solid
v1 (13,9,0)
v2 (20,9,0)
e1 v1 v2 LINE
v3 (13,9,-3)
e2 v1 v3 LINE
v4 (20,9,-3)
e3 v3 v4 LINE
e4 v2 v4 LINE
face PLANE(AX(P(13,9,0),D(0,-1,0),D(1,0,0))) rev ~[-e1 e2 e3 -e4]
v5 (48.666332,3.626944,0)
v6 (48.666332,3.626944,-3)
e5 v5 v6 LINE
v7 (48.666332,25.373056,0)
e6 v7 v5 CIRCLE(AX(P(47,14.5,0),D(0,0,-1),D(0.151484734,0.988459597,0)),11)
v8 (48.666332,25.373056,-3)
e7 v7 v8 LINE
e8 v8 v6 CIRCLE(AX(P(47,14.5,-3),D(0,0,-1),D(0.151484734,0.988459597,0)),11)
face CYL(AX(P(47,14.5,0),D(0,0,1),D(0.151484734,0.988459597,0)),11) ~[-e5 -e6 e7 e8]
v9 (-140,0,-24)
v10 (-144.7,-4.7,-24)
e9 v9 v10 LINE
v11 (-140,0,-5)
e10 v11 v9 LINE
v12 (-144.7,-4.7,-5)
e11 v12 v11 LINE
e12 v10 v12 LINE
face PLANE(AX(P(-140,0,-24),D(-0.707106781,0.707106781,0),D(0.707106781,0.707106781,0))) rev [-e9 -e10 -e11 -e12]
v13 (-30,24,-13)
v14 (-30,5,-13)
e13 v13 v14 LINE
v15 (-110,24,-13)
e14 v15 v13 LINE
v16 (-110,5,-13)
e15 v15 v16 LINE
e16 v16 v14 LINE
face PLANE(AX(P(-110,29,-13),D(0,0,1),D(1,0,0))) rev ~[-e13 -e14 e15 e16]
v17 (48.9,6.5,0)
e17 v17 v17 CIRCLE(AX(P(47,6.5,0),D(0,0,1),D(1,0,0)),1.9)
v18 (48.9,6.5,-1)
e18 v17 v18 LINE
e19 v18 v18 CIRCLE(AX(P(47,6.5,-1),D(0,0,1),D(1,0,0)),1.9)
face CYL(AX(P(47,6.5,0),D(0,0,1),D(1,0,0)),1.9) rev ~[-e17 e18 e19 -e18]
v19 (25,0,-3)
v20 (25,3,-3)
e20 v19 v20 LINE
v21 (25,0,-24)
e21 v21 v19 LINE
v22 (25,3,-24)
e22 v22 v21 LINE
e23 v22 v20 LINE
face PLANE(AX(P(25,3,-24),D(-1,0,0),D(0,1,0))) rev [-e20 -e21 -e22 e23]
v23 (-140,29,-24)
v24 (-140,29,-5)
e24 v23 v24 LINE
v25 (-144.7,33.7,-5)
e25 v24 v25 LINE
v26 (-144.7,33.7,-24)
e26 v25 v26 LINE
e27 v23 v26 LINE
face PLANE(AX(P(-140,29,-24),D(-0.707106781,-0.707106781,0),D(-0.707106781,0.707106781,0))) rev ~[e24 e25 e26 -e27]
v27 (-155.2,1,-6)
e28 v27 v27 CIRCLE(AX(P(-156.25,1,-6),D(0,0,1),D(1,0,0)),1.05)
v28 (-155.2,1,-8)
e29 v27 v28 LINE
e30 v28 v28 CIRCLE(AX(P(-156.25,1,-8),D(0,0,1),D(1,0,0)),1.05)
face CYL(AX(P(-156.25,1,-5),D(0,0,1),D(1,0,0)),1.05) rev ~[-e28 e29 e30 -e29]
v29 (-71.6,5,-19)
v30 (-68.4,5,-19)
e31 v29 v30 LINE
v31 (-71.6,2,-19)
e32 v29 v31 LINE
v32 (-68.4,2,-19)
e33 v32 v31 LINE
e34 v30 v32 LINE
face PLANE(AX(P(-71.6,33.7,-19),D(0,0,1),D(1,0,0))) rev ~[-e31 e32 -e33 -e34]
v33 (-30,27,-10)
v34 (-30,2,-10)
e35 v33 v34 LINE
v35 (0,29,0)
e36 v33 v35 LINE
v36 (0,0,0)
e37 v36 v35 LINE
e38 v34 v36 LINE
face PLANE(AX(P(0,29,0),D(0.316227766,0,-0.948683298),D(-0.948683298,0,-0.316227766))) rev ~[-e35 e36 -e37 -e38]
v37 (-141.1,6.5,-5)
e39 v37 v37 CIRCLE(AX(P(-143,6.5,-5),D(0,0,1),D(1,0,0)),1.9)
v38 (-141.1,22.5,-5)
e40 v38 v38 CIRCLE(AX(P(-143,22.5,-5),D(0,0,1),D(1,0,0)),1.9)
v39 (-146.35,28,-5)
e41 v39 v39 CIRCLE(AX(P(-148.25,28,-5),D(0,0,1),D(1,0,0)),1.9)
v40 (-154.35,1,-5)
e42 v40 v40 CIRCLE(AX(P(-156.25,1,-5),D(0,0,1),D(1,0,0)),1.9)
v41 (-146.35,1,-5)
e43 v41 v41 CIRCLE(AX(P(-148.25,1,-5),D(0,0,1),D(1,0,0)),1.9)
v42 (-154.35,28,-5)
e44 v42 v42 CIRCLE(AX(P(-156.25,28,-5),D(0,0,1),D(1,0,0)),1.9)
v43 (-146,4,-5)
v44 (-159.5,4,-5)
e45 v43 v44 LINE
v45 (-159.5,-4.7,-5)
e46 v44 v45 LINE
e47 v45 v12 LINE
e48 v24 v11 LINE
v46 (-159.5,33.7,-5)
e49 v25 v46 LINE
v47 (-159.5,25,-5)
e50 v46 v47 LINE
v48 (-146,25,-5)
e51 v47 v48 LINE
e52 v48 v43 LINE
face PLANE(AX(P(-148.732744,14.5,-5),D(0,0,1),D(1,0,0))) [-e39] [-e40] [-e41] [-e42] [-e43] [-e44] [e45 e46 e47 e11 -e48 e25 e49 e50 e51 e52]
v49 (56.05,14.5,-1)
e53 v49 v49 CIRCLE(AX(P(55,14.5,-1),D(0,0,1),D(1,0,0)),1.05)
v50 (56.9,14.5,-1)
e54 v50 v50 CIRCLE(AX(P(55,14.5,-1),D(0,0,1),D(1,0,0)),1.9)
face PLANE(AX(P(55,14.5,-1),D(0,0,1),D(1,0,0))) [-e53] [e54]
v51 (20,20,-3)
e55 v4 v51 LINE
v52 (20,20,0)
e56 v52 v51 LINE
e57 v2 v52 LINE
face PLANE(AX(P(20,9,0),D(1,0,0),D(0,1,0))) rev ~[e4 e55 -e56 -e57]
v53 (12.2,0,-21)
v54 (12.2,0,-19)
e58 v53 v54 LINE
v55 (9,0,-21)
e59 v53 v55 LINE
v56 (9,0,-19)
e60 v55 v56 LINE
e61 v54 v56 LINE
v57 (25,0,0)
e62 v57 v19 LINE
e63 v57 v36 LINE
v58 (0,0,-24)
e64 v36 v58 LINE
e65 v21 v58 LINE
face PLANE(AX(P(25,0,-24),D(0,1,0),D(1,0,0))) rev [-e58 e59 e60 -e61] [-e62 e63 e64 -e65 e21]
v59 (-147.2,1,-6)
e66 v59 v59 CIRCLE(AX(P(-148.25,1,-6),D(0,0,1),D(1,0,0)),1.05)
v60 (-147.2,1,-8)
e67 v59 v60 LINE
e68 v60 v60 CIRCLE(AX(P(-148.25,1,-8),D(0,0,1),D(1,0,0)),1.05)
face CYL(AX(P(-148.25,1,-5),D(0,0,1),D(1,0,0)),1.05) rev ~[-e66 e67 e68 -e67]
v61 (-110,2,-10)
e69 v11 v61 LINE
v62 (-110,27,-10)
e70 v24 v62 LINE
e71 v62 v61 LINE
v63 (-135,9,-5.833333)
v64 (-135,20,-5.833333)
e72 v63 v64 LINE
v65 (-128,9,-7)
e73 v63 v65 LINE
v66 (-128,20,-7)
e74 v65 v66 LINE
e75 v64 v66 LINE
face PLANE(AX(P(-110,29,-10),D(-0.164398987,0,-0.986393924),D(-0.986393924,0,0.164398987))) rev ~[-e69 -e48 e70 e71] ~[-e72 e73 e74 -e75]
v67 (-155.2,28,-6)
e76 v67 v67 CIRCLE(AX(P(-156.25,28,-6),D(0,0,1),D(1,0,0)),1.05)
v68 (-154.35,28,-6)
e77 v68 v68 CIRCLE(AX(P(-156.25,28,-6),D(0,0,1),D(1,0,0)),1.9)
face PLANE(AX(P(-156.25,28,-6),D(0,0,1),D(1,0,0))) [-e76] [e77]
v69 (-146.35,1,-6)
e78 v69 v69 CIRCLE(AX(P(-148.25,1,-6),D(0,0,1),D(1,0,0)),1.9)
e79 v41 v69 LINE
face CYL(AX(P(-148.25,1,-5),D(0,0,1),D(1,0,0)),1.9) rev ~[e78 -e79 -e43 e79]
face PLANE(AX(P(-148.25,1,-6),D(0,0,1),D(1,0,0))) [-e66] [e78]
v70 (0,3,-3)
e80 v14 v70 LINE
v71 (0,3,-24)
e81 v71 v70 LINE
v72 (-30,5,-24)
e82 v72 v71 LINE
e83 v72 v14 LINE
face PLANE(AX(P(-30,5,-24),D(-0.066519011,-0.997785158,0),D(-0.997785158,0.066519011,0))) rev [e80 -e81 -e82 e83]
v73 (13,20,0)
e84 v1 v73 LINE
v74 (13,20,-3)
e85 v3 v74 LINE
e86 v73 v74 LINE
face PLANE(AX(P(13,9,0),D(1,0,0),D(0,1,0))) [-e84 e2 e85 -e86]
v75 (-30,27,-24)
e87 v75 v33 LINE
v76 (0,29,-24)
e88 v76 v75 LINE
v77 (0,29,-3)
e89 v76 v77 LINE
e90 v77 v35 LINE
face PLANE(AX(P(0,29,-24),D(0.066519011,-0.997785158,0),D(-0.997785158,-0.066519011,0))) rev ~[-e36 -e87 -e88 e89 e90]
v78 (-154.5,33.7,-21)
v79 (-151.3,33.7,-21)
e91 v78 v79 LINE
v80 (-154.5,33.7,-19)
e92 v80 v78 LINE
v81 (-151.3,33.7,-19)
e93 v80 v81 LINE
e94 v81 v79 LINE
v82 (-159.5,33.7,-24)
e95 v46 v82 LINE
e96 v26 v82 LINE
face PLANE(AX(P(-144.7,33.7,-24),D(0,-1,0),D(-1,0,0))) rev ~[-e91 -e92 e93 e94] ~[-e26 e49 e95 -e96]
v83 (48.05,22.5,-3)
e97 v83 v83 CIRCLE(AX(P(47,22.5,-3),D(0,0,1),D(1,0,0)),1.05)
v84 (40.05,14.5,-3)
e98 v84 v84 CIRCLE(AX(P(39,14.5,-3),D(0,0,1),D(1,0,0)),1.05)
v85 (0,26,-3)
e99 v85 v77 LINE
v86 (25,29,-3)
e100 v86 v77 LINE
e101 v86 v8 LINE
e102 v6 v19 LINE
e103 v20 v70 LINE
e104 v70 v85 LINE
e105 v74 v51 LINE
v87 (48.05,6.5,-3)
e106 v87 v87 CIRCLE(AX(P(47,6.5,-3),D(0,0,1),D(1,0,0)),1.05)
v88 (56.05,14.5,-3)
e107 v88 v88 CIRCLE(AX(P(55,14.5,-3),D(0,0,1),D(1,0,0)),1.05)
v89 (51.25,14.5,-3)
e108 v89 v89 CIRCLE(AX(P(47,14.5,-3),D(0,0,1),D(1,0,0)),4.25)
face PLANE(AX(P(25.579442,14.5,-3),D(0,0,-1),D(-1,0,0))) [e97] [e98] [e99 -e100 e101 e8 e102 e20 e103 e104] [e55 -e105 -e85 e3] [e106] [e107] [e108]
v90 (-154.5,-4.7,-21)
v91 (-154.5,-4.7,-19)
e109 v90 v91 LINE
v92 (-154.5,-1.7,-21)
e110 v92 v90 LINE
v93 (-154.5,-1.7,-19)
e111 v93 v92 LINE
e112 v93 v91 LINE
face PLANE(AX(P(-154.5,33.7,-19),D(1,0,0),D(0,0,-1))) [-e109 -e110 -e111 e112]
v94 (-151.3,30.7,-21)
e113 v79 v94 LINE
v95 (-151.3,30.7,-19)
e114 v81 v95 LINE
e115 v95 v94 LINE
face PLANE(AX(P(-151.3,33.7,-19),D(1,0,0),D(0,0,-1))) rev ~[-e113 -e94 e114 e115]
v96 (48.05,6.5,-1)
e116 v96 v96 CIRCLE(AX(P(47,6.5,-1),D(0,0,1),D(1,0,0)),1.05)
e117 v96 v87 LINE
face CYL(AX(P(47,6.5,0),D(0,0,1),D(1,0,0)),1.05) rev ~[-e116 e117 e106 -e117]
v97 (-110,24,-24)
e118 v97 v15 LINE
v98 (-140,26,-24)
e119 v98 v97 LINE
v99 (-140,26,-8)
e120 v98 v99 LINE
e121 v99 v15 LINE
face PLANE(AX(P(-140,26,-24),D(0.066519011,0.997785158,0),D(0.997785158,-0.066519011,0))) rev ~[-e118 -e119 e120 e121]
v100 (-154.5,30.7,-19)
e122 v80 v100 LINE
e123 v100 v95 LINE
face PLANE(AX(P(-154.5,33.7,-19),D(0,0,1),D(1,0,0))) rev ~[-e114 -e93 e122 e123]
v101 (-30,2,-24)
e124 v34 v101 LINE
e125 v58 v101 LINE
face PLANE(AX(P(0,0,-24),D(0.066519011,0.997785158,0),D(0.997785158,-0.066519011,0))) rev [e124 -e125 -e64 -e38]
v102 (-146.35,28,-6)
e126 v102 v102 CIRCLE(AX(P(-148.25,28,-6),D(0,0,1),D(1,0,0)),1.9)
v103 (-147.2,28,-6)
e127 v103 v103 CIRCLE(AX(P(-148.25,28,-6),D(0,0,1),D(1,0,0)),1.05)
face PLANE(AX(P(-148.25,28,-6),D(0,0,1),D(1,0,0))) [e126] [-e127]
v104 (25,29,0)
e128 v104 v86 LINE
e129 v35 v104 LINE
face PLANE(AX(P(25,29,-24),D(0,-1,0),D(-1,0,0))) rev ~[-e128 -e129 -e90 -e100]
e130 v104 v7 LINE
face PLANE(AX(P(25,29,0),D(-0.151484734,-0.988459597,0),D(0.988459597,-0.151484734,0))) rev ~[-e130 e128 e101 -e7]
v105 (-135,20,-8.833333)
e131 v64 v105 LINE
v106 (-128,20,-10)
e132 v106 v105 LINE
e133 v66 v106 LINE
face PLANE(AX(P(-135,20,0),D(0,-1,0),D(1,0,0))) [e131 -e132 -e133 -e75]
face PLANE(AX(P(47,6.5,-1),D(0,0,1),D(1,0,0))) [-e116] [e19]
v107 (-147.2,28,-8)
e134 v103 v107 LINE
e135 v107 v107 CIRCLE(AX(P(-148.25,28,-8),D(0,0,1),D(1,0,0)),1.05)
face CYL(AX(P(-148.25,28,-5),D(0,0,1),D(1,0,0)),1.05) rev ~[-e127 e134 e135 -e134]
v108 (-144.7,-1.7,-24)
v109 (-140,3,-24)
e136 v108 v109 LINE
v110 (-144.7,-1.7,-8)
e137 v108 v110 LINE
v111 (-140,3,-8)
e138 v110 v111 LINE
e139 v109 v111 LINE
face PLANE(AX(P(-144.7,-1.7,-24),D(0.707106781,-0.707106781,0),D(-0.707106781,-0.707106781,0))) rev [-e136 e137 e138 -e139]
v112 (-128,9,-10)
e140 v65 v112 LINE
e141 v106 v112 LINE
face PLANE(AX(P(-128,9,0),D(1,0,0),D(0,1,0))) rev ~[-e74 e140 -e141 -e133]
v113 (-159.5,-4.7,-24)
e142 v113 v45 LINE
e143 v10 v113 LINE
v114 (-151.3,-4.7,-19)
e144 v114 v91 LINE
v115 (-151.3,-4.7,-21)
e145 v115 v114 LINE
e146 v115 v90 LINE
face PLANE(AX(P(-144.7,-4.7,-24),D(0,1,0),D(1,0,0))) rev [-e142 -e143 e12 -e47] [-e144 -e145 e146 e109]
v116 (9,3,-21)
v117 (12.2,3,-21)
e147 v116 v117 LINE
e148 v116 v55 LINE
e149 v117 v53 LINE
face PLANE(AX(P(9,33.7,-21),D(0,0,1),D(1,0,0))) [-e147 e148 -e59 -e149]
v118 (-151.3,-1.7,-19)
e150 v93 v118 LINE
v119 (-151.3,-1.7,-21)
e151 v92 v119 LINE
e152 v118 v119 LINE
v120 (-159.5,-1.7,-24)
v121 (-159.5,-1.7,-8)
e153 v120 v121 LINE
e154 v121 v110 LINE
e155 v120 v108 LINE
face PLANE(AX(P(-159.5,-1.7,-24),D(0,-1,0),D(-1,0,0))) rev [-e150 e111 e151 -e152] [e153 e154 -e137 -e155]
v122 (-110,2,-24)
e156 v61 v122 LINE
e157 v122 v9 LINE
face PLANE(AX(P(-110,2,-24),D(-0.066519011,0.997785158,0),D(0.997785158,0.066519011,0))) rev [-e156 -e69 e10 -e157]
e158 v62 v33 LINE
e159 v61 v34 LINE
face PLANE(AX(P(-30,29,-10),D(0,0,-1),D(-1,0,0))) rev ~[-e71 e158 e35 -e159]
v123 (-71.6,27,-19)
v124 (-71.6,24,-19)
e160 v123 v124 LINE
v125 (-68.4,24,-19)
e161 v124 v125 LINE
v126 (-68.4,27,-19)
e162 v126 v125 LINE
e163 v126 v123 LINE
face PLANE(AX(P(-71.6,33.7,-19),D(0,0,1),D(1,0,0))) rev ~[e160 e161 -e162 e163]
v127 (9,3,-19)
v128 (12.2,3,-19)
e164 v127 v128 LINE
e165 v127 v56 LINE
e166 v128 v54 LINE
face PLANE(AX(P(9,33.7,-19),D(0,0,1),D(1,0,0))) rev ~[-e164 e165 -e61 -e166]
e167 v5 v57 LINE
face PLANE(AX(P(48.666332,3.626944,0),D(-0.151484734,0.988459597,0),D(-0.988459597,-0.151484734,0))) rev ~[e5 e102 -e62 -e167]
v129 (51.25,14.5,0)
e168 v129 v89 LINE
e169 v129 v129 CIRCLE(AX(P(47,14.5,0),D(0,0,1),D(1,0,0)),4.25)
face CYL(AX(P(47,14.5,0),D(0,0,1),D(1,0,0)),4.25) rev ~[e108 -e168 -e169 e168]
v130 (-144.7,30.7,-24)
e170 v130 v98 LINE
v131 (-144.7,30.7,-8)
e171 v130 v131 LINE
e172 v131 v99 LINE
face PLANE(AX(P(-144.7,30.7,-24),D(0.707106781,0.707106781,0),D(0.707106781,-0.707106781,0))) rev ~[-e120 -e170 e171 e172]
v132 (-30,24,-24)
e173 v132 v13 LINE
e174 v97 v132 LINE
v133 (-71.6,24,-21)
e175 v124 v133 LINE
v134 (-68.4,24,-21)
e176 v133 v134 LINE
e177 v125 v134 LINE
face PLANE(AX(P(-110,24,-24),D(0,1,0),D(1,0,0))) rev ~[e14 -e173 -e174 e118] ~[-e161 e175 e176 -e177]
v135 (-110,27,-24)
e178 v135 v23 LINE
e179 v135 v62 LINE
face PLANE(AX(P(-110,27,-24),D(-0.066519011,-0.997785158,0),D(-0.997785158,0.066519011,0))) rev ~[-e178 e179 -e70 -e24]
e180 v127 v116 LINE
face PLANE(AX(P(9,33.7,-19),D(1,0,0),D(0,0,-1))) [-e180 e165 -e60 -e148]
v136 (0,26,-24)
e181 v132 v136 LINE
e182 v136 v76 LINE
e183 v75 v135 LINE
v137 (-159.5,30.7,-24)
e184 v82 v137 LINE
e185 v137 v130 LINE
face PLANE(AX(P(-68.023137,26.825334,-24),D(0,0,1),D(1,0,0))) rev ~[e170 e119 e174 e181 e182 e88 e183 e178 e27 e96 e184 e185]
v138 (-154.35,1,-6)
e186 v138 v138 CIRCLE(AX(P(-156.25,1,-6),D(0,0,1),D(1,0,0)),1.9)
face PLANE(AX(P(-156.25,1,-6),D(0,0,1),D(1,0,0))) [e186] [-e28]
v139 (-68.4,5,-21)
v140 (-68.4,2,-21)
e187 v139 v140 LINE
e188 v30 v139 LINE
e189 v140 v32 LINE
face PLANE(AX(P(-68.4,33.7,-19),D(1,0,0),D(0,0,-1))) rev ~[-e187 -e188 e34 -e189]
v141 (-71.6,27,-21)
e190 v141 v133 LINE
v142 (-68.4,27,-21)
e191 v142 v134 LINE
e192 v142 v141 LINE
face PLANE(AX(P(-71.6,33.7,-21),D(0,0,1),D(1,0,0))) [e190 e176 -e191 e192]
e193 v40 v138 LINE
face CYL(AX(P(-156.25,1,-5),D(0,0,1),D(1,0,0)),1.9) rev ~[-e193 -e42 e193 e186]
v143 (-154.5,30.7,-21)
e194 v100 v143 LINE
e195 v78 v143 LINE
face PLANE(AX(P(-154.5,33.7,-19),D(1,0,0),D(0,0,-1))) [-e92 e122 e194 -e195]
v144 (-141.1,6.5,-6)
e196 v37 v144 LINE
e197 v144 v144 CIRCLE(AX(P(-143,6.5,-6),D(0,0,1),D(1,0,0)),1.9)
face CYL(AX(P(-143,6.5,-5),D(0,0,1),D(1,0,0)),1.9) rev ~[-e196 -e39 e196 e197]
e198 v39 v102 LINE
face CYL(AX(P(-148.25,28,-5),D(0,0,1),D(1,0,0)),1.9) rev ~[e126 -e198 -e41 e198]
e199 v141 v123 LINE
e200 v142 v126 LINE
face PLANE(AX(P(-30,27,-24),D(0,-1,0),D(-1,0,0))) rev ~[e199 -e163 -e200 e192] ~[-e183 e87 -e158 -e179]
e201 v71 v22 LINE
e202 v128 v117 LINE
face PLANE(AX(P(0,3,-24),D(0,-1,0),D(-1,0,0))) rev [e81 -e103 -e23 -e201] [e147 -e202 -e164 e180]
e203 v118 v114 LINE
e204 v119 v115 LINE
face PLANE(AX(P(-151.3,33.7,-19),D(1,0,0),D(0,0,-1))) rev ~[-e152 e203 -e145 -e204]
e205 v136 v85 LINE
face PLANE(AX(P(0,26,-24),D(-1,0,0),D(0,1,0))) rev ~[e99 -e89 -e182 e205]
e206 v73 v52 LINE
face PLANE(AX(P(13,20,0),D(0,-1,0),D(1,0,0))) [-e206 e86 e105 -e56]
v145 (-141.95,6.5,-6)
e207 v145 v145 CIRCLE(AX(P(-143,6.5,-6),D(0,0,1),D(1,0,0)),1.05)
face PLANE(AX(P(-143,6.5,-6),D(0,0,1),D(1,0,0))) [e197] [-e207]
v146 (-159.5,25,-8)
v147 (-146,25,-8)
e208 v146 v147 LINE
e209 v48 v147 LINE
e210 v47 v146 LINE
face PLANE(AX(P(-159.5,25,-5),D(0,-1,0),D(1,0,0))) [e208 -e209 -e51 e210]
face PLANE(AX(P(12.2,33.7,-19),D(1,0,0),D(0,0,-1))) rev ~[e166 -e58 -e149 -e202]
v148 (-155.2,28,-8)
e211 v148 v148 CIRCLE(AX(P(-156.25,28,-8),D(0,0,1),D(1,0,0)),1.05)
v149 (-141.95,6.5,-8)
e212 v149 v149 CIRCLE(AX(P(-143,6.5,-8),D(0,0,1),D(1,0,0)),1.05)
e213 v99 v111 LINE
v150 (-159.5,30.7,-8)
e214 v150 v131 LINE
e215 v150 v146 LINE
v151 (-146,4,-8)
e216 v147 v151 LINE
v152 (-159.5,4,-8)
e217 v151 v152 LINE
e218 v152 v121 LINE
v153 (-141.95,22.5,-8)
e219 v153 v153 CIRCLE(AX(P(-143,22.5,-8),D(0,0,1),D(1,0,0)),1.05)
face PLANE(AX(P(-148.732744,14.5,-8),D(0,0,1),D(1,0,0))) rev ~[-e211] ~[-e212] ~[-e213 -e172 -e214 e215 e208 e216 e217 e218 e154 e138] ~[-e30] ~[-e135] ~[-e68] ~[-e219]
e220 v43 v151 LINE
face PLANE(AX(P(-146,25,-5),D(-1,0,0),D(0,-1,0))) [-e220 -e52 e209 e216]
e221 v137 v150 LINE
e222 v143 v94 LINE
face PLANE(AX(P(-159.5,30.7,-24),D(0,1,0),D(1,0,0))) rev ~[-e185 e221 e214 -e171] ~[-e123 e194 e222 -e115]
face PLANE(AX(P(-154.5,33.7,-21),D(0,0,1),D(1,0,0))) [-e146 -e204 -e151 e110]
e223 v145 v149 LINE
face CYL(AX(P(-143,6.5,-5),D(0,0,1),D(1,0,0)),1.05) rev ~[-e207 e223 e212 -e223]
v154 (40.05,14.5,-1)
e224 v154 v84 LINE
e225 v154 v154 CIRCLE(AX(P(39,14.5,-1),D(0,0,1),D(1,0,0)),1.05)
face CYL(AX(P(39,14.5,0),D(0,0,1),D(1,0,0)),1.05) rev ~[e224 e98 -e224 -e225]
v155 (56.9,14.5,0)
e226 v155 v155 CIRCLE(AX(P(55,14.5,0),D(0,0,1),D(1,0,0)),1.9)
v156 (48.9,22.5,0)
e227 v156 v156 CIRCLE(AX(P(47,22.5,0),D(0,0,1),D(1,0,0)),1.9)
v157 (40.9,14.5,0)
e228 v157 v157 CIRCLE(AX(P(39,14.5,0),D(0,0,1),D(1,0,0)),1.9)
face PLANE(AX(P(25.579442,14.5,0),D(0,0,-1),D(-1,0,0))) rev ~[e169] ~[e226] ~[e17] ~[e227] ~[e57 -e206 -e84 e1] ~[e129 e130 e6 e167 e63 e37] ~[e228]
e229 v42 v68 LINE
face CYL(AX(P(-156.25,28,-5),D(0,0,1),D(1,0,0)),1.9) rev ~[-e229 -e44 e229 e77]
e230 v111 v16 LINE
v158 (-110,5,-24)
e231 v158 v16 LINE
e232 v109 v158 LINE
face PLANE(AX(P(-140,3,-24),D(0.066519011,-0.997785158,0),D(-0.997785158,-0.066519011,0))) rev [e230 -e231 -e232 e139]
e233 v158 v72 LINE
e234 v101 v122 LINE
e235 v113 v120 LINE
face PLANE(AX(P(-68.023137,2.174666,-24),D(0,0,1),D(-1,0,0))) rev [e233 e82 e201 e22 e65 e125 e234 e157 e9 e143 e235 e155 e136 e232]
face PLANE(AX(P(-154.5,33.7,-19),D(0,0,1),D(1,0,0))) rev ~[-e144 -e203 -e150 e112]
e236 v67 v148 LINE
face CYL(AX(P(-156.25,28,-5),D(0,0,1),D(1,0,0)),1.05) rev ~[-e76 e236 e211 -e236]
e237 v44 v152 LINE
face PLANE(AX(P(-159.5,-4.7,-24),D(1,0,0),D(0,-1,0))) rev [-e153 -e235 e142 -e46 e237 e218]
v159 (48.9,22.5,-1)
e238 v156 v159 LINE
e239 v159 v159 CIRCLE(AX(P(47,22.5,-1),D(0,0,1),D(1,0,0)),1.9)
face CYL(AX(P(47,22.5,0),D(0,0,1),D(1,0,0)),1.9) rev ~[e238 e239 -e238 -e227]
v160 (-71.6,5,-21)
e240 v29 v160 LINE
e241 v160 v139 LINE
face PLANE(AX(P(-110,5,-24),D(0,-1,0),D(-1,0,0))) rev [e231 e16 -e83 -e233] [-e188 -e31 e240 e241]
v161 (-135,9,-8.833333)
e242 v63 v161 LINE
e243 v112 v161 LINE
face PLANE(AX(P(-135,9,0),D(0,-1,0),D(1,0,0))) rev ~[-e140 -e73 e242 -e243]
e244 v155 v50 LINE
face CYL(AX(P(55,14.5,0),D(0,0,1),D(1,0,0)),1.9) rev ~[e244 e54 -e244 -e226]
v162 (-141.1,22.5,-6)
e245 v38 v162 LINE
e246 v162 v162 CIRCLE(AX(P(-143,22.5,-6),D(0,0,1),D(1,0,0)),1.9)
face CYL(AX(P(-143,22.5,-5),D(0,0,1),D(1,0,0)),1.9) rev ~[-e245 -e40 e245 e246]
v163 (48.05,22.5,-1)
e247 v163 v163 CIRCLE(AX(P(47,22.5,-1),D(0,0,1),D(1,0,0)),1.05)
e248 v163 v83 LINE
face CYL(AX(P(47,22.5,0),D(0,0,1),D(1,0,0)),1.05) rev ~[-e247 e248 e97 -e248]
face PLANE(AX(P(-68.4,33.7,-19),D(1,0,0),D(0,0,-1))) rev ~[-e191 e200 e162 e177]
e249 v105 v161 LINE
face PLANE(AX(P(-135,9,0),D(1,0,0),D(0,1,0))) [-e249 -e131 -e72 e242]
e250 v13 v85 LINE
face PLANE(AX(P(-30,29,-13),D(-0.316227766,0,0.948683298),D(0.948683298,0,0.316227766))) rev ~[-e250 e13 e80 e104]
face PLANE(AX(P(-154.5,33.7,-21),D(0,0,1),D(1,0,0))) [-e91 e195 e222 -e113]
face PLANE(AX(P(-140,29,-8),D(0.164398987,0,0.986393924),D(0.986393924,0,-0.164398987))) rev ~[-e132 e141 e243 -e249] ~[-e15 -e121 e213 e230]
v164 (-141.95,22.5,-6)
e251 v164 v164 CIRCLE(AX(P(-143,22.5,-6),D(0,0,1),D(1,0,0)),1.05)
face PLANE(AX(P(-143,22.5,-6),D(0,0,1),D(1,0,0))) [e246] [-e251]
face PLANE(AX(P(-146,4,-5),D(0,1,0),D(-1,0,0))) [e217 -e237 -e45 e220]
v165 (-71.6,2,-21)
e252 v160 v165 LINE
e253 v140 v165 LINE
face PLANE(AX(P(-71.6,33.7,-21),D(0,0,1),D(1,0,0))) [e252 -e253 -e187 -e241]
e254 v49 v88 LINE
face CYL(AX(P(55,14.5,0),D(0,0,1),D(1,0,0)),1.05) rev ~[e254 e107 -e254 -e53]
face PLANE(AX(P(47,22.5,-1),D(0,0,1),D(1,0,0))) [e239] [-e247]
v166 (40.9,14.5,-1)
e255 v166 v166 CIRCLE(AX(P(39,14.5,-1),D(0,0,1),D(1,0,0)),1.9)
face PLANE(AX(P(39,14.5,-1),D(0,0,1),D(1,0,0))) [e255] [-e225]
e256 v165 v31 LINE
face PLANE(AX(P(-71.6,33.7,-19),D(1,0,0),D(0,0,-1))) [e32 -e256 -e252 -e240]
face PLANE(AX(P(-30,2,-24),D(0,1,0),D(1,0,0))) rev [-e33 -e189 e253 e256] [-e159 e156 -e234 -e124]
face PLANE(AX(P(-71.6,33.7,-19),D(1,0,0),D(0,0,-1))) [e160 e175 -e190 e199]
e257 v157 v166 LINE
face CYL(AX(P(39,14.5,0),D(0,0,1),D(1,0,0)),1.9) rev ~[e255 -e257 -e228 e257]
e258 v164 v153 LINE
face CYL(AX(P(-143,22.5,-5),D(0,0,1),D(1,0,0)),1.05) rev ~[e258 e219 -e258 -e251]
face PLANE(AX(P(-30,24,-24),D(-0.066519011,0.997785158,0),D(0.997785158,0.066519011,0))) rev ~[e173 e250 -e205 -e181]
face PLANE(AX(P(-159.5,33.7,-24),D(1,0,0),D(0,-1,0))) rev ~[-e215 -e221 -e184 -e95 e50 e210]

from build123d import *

# Parameters (mm, degrees)
BOSS_EXTRUDE1_DEPTH = 3
CUT_EXTRUDE1_REACH  = 66.915
SKETCH2_R           = 4.25
SKETCH2_R_2         = 1.05
SKETCH3_R           = 1.9
CUT_EXTRUDE2_DEPTH  = 1
BOSS_EXTRUDE2_DEPTH = 29
BOSS_EXTRUDE4_DEPTH = 3
CUT_EXTRUDE3_REACH  = 165.217
SKETCH8_R           = 1.05
SKETCH9_R           = 1.9
CUT_EXTRUDE4_DEPTH  = 1
CUT_EXTRUDE5_REACH  = 165.539
BOSS_EXTRUDE8_REACH = 166.778
SKETCH16_W          = 3.2
SKETCH16_H          = 2
CUT_EXTRUDE6_DEPTH  = 166.80352831
CUT_EXTRUDE7_REACH  = 166.778
SKETCH17_W          = 7
SKETCH17_H          = 11
SKETCH18_W          = 25
SKETCH18_H          = 3
CUT_EXTRUDE8_DEPTH  = 21


with BuildPart() as part:
    # Sketch1 → Boss-Extrude1 (new body)
    with BuildSketch(Plane.XY):
        with BuildLine():
            Line((25, 29), (48.666332079, 25.373055569))
            ThreePointArc((48.666332079, 25.373055569), (58, 14.5), (48.666332079, 3.626944431))
            Line((48.666332079, 3.626944431), (25, 0))
            Line((25, 0), (0, 0))
            Line((0, 0), (0, 29))
            Line((0, 29), (25, 29))
        make_face()
    extrude(amount=-BOSS_EXTRUDE1_DEPTH)

    # Sketch2 → Cut-Extrude1 (cut, up to next)
    with BuildSketch(Plane.XY, mode=Mode.PRIVATE) as cut_extrude1_sk1:
        with Locations((47, 14.5)):
            Circle(SKETCH2_R)
    cut_extrude1_tool1 = extrude(cut_extrude1_sk1.sketch, amount=-CUT_EXTRUDE1_REACH, mode=Mode.PRIVATE) & part.part
    # Sketch2 → Cut-Extrude1 (cut, up to next)
    with BuildSketch(Plane.XY, mode=Mode.PRIVATE) as cut_extrude1_sk2:
        with Locations((47, 22.5)):
            Circle(SKETCH2_R_2)
    cut_extrude1_tool2 = extrude(cut_extrude1_sk2.sketch, amount=-CUT_EXTRUDE1_REACH, mode=Mode.PRIVATE) & part.part
    # Sketch2 → Cut-Extrude1 (cut, up to next)
    with BuildSketch(Plane.XY, mode=Mode.PRIVATE) as cut_extrude1_sk3:
        with Locations((55, 14.5)):
            Circle(SKETCH2_R_2)
    cut_extrude1_tool3 = extrude(cut_extrude1_sk3.sketch, amount=-CUT_EXTRUDE1_REACH, mode=Mode.PRIVATE) & part.part
    # Sketch2 → Cut-Extrude1 (cut, up to next)
    with BuildSketch(Plane.XY, mode=Mode.PRIVATE) as cut_extrude1_sk4:
        with Locations((47, 6.5)):
            Circle(SKETCH2_R_2)
    cut_extrude1_tool4 = extrude(cut_extrude1_sk4.sketch, amount=-CUT_EXTRUDE1_REACH, mode=Mode.PRIVATE) & part.part
    # Sketch2 → Cut-Extrude1 (cut, up to next)
    with BuildSketch(Plane.XY, mode=Mode.PRIVATE) as cut_extrude1_sk5:
        with Locations((39, 14.5)):
            Circle(SKETCH2_R_2)
    cut_extrude1_tool5 = extrude(cut_extrude1_sk5.sketch, amount=-CUT_EXTRUDE1_REACH, mode=Mode.PRIVATE) & part.part
    add(cut_extrude1_tool1.solids().sort_by_distance((47, 14.5, 0))[0], mode=Mode.SUBTRACT)
    add(cut_extrude1_tool2.solids().sort_by_distance((47, 22.5, 0))[0], mode=Mode.SUBTRACT)
    add(cut_extrude1_tool3.solids().sort_by_distance((55, 14.5, 0))[0], mode=Mode.SUBTRACT)
    add(cut_extrude1_tool4.solids().sort_by_distance((47, 6.5, 0))[0], mode=Mode.SUBTRACT)
    add(cut_extrude1_tool5.solids().sort_by_distance((39, 14.5, 0))[0], mode=Mode.SUBTRACT)

    # Sketch3 → Cut-Extrude2 (cut)
    with BuildSketch(Plane.XY):
        with Locations((47, 22.5)):
            Circle(SKETCH3_R)
        with Locations((55, 14.5)):
            Circle(SKETCH3_R)
        with Locations((47, 6.5)):
            Circle(SKETCH3_R)
        with Locations((39, 14.5)):
            Circle(SKETCH3_R)
    extrude(amount=-CUT_EXTRUDE2_DEPTH, mode=Mode.SUBTRACT)

    # Sketch4 → Boss-Extrude2 (add)
    with BuildSketch(Plane(origin=(0, 29, 0), x_dir=(1, 0, 0), z_dir=(0, 1, 0))):
        Polygon((0, 3), (0, 0), (-30, 10), (-110, 10), (-140, 5), (-140, 8), (-110, 13), (-30, 13), align=None)
    extrude(amount=-BOSS_EXTRUDE2_DEPTH)

    # Sketch7 → Boss-Extrude4 (add)
    with BuildSketch(Plane.XY.offset(-5)):
        Polygon((-140, 29), (-144.7, 33.7), (-159.5, 33.7), (-159.5, 25), (-146, 25), (-146, 4), (-159.5, 4), (-159.5, -4.7), (-144.7, -4.7), (-140, 0), align=None)
    extrude(amount=-BOSS_EXTRUDE4_DEPTH)

    # Sketch8 → Cut-Extrude3 (cut, up to next)
    with BuildSketch(Plane.XY.offset(-5), mode=Mode.PRIVATE) as cut_extrude3_sk1:
        with Locations((-156.25, 28)):
            Circle(SKETCH8_R)
    cut_extrude3_tool1 = extrude(cut_extrude3_sk1.sketch, amount=-CUT_EXTRUDE3_REACH, mode=Mode.PRIVATE) & part.part
    # Sketch8 → Cut-Extrude3 (cut, up to next)
    with BuildSketch(Plane.XY.offset(-5), mode=Mode.PRIVATE) as cut_extrude3_sk2:
        with Locations((-148.25, 28)):
            Circle(SKETCH8_R)
    cut_extrude3_tool2 = extrude(cut_extrude3_sk2.sketch, amount=-CUT_EXTRUDE3_REACH, mode=Mode.PRIVATE) & part.part
    # Sketch8 → Cut-Extrude3 (cut, up to next)
    with BuildSketch(Plane.XY.offset(-5), mode=Mode.PRIVATE) as cut_extrude3_sk3:
        with Locations((-143, 22.5)):
            Circle(SKETCH8_R)
    cut_extrude3_tool3 = extrude(cut_extrude3_sk3.sketch, amount=-CUT_EXTRUDE3_REACH, mode=Mode.PRIVATE) & part.part
    # Sketch8 → Cut-Extrude3 (cut, up to next)
    with BuildSketch(Plane.XY.offset(-5), mode=Mode.PRIVATE) as cut_extrude3_sk4:
        with Locations((-143, 6.5)):
            Circle(SKETCH8_R)
    cut_extrude3_tool4 = extrude(cut_extrude3_sk4.sketch, amount=-CUT_EXTRUDE3_REACH, mode=Mode.PRIVATE) & part.part
    # Sketch8 → Cut-Extrude3 (cut, up to next)
    with BuildSketch(Plane.XY.offset(-5), mode=Mode.PRIVATE) as cut_extrude3_sk5:
        with Locations((-148.25, 1)):
            Circle(SKETCH8_R)
    cut_extrude3_tool5 = extrude(cut_extrude3_sk5.sketch, amount=-CUT_EXTRUDE3_REACH, mode=Mode.PRIVATE) & part.part
    # Sketch8 → Cut-Extrude3 (cut, up to next)
    with BuildSketch(Plane.XY.offset(-5), mode=Mode.PRIVATE) as cut_extrude3_sk6:
        with Locations((-156.25, 1)):
            Circle(SKETCH8_R)
    cut_extrude3_tool6 = extrude(cut_extrude3_sk6.sketch, amount=-CUT_EXTRUDE3_REACH, mode=Mode.PRIVATE) & part.part
    add(cut_extrude3_tool1.solids().sort_by_distance((-156.25, 28, -5))[0], mode=Mode.SUBTRACT)
    add(cut_extrude3_tool2.solids().sort_by_distance((-148.25, 28, -5))[0], mode=Mode.SUBTRACT)
    add(cut_extrude3_tool3.solids().sort_by_distance((-143, 22.5, -5))[0], mode=Mode.SUBTRACT)
    add(cut_extrude3_tool4.solids().sort_by_distance((-143, 6.5, -5))[0], mode=Mode.SUBTRACT)
    add(cut_extrude3_tool5.solids().sort_by_distance((-148.25, 1, -5))[0], mode=Mode.SUBTRACT)
    add(cut_extrude3_tool6.solids().sort_by_distance((-156.25, 1, -5))[0], mode=Mode.SUBTRACT)

    # Sketch9 → Cut-Extrude4 (cut)
    with BuildSketch(Plane.XY.offset(-5)):
        with Locations((-156.25, 28)):
            Circle(SKETCH9_R)
        with Locations((-148.25, 28)):
            Circle(SKETCH9_R)
        with Locations((-143, 22.5)):
            Circle(SKETCH9_R)
        with Locations((-143, 6.5)):
            Circle(SKETCH9_R)
        with Locations((-148.25, 1)):
            Circle(SKETCH9_R)
        with Locations((-156.25, 1)):
            Circle(SKETCH9_R)
    extrude(amount=-CUT_EXTRUDE4_DEPTH, mode=Mode.SUBTRACT)

    # Cut-Extrude5: up to this face of the body (flat: up to its plane)
    cut_extrude5_end = Plane(part.part.faces().sort_by_distance((-70, 14.5, -13))[0])
    # Sketch11 → Cut-Extrude5 (cut, up to the picked face)
    with BuildSketch(Plane.XY, mode=Mode.PRIVATE) as cut_extrude5_sk1:
        Polygon((0, 0), (-30, 2), (-110, 2), (-140, 0), align=None)
    cut_extrude5_tool1 = split(extrude(cut_extrude5_sk1.sketch, amount=-CUT_EXTRUDE5_REACH, mode=Mode.PRIVATE), bisect_by=cut_extrude5_end, keep=Keep.BOTH, mode=Mode.PRIVATE)
    # Sketch11 → Cut-Extrude5 (cut, up to the picked face)
    with BuildSketch(Plane.XY, mode=Mode.PRIVATE) as cut_extrude5_sk2:
        Polygon((0, 29), (-30, 27), (-110, 27), (-140, 29), align=None)
    cut_extrude5_tool2 = split(extrude(cut_extrude5_sk2.sketch, amount=-CUT_EXTRUDE5_REACH, mode=Mode.PRIVATE), bisect_by=cut_extrude5_end, keep=Keep.BOTH, mode=Mode.PRIVATE)
    add(cut_extrude5_tool1.solids().sort_by(Axis((-70, 0.909091, 0), (0, 0, -1)))[0], mode=Mode.SUBTRACT)
    add(cut_extrude5_tool2.solids().sort_by(Axis((-70, 28.090909, 0), (0, 0, -1)))[0], mode=Mode.SUBTRACT)

    # Sketch14 → Boss-Extrude8 (add, up to next)
    with BuildSketch(Plane.XY.offset(-24), mode=Mode.PRIVATE) as boss_extrude8_sk1:
        Polygon((-159.5, 33.7), (-159.5, 30.7), (-144.7, 30.7), (-140, 26), (-110, 24), (-30, 24), (0, 26), (25, 26), (25, 29), (0, 29), (-30, 27), (-110, 27), (-140, 29), (-144.7, 33.7), align=None)
    boss_extrude8_tool1 = extrude(boss_extrude8_sk1.sketch, amount=BOSS_EXTRUDE8_REACH, mode=Mode.PRIVATE) - part.part
    boss_extrude8 = boss_extrude8_tool1.solids().sort_by_distance((-67.25, 26.744472, -24))[0]
    add(boss_extrude8)

    # Mirror1: Boss-Extrude8 across plane
    add(boss_extrude8.mirror(Plane.ZX.offset(14.5)))

    # Sketch16 → Cut-Extrude6 (cut, through all)
    with BuildSketch(Plane(origin=(0, 33.7, 0), x_dir=(1, 0, 0), z_dir=(0, 1, 0))):
        with Locations((-152.9, 20)):
            Rectangle(SKETCH16_W, SKETCH16_H)
        with Locations((-70, 20)):
            Rectangle(SKETCH16_W, SKETCH16_H)
        with Locations((10.6, 20)):
            Rectangle(SKETCH16_W, SKETCH16_H)
    extrude(amount=-CUT_EXTRUDE6_DEPTH, mode=Mode.SUBTRACT)

    # Sketch17 → Cut-Extrude7 (cut, up to next)
    with BuildSketch(Plane.XY, mode=Mode.PRIVATE) as cut_extrude7_sk1:
        with Locations((-131.5, 14.5)):
            Rectangle(SKETCH17_W, SKETCH17_H)
    cut_extrude7_tool1 = extrude(cut_extrude7_sk1.sketch, amount=-CUT_EXTRUDE7_REACH, mode=Mode.PRIVATE) & part.part
    # Sketch17 → Cut-Extrude7 (cut, up to next)
    with BuildSketch(Plane.XY, mode=Mode.PRIVATE) as cut_extrude7_sk2:
        with Locations((16.5, 14.5)):
            Rectangle(SKETCH17_W, SKETCH17_H)
    cut_extrude7_tool2 = extrude(cut_extrude7_sk2.sketch, amount=-CUT_EXTRUDE7_REACH, mode=Mode.PRIVATE) & part.part
    add(cut_extrude7_tool1.solids().sort_by_distance((-131.5, 14.5, 0))[0], mode=Mode.SUBTRACT)
    add(cut_extrude7_tool2.solids().sort_by_distance((16.5, 14.5, 0))[0], mode=Mode.SUBTRACT)

    # Sketch18 → Cut-Extrude8 (cut)
    with BuildSketch(Plane(origin=(0, 0, -24), x_dir=(-1, 0, 0), z_dir=(0, 0, -1))):
        with Locations((-12.5, 27.5)):
            Rectangle(SKETCH18_W, SKETCH18_H)
    extrude(amount=-CUT_EXTRUDE8_DEPTH, mode=Mode.SUBTRACT)


solid = part.part
